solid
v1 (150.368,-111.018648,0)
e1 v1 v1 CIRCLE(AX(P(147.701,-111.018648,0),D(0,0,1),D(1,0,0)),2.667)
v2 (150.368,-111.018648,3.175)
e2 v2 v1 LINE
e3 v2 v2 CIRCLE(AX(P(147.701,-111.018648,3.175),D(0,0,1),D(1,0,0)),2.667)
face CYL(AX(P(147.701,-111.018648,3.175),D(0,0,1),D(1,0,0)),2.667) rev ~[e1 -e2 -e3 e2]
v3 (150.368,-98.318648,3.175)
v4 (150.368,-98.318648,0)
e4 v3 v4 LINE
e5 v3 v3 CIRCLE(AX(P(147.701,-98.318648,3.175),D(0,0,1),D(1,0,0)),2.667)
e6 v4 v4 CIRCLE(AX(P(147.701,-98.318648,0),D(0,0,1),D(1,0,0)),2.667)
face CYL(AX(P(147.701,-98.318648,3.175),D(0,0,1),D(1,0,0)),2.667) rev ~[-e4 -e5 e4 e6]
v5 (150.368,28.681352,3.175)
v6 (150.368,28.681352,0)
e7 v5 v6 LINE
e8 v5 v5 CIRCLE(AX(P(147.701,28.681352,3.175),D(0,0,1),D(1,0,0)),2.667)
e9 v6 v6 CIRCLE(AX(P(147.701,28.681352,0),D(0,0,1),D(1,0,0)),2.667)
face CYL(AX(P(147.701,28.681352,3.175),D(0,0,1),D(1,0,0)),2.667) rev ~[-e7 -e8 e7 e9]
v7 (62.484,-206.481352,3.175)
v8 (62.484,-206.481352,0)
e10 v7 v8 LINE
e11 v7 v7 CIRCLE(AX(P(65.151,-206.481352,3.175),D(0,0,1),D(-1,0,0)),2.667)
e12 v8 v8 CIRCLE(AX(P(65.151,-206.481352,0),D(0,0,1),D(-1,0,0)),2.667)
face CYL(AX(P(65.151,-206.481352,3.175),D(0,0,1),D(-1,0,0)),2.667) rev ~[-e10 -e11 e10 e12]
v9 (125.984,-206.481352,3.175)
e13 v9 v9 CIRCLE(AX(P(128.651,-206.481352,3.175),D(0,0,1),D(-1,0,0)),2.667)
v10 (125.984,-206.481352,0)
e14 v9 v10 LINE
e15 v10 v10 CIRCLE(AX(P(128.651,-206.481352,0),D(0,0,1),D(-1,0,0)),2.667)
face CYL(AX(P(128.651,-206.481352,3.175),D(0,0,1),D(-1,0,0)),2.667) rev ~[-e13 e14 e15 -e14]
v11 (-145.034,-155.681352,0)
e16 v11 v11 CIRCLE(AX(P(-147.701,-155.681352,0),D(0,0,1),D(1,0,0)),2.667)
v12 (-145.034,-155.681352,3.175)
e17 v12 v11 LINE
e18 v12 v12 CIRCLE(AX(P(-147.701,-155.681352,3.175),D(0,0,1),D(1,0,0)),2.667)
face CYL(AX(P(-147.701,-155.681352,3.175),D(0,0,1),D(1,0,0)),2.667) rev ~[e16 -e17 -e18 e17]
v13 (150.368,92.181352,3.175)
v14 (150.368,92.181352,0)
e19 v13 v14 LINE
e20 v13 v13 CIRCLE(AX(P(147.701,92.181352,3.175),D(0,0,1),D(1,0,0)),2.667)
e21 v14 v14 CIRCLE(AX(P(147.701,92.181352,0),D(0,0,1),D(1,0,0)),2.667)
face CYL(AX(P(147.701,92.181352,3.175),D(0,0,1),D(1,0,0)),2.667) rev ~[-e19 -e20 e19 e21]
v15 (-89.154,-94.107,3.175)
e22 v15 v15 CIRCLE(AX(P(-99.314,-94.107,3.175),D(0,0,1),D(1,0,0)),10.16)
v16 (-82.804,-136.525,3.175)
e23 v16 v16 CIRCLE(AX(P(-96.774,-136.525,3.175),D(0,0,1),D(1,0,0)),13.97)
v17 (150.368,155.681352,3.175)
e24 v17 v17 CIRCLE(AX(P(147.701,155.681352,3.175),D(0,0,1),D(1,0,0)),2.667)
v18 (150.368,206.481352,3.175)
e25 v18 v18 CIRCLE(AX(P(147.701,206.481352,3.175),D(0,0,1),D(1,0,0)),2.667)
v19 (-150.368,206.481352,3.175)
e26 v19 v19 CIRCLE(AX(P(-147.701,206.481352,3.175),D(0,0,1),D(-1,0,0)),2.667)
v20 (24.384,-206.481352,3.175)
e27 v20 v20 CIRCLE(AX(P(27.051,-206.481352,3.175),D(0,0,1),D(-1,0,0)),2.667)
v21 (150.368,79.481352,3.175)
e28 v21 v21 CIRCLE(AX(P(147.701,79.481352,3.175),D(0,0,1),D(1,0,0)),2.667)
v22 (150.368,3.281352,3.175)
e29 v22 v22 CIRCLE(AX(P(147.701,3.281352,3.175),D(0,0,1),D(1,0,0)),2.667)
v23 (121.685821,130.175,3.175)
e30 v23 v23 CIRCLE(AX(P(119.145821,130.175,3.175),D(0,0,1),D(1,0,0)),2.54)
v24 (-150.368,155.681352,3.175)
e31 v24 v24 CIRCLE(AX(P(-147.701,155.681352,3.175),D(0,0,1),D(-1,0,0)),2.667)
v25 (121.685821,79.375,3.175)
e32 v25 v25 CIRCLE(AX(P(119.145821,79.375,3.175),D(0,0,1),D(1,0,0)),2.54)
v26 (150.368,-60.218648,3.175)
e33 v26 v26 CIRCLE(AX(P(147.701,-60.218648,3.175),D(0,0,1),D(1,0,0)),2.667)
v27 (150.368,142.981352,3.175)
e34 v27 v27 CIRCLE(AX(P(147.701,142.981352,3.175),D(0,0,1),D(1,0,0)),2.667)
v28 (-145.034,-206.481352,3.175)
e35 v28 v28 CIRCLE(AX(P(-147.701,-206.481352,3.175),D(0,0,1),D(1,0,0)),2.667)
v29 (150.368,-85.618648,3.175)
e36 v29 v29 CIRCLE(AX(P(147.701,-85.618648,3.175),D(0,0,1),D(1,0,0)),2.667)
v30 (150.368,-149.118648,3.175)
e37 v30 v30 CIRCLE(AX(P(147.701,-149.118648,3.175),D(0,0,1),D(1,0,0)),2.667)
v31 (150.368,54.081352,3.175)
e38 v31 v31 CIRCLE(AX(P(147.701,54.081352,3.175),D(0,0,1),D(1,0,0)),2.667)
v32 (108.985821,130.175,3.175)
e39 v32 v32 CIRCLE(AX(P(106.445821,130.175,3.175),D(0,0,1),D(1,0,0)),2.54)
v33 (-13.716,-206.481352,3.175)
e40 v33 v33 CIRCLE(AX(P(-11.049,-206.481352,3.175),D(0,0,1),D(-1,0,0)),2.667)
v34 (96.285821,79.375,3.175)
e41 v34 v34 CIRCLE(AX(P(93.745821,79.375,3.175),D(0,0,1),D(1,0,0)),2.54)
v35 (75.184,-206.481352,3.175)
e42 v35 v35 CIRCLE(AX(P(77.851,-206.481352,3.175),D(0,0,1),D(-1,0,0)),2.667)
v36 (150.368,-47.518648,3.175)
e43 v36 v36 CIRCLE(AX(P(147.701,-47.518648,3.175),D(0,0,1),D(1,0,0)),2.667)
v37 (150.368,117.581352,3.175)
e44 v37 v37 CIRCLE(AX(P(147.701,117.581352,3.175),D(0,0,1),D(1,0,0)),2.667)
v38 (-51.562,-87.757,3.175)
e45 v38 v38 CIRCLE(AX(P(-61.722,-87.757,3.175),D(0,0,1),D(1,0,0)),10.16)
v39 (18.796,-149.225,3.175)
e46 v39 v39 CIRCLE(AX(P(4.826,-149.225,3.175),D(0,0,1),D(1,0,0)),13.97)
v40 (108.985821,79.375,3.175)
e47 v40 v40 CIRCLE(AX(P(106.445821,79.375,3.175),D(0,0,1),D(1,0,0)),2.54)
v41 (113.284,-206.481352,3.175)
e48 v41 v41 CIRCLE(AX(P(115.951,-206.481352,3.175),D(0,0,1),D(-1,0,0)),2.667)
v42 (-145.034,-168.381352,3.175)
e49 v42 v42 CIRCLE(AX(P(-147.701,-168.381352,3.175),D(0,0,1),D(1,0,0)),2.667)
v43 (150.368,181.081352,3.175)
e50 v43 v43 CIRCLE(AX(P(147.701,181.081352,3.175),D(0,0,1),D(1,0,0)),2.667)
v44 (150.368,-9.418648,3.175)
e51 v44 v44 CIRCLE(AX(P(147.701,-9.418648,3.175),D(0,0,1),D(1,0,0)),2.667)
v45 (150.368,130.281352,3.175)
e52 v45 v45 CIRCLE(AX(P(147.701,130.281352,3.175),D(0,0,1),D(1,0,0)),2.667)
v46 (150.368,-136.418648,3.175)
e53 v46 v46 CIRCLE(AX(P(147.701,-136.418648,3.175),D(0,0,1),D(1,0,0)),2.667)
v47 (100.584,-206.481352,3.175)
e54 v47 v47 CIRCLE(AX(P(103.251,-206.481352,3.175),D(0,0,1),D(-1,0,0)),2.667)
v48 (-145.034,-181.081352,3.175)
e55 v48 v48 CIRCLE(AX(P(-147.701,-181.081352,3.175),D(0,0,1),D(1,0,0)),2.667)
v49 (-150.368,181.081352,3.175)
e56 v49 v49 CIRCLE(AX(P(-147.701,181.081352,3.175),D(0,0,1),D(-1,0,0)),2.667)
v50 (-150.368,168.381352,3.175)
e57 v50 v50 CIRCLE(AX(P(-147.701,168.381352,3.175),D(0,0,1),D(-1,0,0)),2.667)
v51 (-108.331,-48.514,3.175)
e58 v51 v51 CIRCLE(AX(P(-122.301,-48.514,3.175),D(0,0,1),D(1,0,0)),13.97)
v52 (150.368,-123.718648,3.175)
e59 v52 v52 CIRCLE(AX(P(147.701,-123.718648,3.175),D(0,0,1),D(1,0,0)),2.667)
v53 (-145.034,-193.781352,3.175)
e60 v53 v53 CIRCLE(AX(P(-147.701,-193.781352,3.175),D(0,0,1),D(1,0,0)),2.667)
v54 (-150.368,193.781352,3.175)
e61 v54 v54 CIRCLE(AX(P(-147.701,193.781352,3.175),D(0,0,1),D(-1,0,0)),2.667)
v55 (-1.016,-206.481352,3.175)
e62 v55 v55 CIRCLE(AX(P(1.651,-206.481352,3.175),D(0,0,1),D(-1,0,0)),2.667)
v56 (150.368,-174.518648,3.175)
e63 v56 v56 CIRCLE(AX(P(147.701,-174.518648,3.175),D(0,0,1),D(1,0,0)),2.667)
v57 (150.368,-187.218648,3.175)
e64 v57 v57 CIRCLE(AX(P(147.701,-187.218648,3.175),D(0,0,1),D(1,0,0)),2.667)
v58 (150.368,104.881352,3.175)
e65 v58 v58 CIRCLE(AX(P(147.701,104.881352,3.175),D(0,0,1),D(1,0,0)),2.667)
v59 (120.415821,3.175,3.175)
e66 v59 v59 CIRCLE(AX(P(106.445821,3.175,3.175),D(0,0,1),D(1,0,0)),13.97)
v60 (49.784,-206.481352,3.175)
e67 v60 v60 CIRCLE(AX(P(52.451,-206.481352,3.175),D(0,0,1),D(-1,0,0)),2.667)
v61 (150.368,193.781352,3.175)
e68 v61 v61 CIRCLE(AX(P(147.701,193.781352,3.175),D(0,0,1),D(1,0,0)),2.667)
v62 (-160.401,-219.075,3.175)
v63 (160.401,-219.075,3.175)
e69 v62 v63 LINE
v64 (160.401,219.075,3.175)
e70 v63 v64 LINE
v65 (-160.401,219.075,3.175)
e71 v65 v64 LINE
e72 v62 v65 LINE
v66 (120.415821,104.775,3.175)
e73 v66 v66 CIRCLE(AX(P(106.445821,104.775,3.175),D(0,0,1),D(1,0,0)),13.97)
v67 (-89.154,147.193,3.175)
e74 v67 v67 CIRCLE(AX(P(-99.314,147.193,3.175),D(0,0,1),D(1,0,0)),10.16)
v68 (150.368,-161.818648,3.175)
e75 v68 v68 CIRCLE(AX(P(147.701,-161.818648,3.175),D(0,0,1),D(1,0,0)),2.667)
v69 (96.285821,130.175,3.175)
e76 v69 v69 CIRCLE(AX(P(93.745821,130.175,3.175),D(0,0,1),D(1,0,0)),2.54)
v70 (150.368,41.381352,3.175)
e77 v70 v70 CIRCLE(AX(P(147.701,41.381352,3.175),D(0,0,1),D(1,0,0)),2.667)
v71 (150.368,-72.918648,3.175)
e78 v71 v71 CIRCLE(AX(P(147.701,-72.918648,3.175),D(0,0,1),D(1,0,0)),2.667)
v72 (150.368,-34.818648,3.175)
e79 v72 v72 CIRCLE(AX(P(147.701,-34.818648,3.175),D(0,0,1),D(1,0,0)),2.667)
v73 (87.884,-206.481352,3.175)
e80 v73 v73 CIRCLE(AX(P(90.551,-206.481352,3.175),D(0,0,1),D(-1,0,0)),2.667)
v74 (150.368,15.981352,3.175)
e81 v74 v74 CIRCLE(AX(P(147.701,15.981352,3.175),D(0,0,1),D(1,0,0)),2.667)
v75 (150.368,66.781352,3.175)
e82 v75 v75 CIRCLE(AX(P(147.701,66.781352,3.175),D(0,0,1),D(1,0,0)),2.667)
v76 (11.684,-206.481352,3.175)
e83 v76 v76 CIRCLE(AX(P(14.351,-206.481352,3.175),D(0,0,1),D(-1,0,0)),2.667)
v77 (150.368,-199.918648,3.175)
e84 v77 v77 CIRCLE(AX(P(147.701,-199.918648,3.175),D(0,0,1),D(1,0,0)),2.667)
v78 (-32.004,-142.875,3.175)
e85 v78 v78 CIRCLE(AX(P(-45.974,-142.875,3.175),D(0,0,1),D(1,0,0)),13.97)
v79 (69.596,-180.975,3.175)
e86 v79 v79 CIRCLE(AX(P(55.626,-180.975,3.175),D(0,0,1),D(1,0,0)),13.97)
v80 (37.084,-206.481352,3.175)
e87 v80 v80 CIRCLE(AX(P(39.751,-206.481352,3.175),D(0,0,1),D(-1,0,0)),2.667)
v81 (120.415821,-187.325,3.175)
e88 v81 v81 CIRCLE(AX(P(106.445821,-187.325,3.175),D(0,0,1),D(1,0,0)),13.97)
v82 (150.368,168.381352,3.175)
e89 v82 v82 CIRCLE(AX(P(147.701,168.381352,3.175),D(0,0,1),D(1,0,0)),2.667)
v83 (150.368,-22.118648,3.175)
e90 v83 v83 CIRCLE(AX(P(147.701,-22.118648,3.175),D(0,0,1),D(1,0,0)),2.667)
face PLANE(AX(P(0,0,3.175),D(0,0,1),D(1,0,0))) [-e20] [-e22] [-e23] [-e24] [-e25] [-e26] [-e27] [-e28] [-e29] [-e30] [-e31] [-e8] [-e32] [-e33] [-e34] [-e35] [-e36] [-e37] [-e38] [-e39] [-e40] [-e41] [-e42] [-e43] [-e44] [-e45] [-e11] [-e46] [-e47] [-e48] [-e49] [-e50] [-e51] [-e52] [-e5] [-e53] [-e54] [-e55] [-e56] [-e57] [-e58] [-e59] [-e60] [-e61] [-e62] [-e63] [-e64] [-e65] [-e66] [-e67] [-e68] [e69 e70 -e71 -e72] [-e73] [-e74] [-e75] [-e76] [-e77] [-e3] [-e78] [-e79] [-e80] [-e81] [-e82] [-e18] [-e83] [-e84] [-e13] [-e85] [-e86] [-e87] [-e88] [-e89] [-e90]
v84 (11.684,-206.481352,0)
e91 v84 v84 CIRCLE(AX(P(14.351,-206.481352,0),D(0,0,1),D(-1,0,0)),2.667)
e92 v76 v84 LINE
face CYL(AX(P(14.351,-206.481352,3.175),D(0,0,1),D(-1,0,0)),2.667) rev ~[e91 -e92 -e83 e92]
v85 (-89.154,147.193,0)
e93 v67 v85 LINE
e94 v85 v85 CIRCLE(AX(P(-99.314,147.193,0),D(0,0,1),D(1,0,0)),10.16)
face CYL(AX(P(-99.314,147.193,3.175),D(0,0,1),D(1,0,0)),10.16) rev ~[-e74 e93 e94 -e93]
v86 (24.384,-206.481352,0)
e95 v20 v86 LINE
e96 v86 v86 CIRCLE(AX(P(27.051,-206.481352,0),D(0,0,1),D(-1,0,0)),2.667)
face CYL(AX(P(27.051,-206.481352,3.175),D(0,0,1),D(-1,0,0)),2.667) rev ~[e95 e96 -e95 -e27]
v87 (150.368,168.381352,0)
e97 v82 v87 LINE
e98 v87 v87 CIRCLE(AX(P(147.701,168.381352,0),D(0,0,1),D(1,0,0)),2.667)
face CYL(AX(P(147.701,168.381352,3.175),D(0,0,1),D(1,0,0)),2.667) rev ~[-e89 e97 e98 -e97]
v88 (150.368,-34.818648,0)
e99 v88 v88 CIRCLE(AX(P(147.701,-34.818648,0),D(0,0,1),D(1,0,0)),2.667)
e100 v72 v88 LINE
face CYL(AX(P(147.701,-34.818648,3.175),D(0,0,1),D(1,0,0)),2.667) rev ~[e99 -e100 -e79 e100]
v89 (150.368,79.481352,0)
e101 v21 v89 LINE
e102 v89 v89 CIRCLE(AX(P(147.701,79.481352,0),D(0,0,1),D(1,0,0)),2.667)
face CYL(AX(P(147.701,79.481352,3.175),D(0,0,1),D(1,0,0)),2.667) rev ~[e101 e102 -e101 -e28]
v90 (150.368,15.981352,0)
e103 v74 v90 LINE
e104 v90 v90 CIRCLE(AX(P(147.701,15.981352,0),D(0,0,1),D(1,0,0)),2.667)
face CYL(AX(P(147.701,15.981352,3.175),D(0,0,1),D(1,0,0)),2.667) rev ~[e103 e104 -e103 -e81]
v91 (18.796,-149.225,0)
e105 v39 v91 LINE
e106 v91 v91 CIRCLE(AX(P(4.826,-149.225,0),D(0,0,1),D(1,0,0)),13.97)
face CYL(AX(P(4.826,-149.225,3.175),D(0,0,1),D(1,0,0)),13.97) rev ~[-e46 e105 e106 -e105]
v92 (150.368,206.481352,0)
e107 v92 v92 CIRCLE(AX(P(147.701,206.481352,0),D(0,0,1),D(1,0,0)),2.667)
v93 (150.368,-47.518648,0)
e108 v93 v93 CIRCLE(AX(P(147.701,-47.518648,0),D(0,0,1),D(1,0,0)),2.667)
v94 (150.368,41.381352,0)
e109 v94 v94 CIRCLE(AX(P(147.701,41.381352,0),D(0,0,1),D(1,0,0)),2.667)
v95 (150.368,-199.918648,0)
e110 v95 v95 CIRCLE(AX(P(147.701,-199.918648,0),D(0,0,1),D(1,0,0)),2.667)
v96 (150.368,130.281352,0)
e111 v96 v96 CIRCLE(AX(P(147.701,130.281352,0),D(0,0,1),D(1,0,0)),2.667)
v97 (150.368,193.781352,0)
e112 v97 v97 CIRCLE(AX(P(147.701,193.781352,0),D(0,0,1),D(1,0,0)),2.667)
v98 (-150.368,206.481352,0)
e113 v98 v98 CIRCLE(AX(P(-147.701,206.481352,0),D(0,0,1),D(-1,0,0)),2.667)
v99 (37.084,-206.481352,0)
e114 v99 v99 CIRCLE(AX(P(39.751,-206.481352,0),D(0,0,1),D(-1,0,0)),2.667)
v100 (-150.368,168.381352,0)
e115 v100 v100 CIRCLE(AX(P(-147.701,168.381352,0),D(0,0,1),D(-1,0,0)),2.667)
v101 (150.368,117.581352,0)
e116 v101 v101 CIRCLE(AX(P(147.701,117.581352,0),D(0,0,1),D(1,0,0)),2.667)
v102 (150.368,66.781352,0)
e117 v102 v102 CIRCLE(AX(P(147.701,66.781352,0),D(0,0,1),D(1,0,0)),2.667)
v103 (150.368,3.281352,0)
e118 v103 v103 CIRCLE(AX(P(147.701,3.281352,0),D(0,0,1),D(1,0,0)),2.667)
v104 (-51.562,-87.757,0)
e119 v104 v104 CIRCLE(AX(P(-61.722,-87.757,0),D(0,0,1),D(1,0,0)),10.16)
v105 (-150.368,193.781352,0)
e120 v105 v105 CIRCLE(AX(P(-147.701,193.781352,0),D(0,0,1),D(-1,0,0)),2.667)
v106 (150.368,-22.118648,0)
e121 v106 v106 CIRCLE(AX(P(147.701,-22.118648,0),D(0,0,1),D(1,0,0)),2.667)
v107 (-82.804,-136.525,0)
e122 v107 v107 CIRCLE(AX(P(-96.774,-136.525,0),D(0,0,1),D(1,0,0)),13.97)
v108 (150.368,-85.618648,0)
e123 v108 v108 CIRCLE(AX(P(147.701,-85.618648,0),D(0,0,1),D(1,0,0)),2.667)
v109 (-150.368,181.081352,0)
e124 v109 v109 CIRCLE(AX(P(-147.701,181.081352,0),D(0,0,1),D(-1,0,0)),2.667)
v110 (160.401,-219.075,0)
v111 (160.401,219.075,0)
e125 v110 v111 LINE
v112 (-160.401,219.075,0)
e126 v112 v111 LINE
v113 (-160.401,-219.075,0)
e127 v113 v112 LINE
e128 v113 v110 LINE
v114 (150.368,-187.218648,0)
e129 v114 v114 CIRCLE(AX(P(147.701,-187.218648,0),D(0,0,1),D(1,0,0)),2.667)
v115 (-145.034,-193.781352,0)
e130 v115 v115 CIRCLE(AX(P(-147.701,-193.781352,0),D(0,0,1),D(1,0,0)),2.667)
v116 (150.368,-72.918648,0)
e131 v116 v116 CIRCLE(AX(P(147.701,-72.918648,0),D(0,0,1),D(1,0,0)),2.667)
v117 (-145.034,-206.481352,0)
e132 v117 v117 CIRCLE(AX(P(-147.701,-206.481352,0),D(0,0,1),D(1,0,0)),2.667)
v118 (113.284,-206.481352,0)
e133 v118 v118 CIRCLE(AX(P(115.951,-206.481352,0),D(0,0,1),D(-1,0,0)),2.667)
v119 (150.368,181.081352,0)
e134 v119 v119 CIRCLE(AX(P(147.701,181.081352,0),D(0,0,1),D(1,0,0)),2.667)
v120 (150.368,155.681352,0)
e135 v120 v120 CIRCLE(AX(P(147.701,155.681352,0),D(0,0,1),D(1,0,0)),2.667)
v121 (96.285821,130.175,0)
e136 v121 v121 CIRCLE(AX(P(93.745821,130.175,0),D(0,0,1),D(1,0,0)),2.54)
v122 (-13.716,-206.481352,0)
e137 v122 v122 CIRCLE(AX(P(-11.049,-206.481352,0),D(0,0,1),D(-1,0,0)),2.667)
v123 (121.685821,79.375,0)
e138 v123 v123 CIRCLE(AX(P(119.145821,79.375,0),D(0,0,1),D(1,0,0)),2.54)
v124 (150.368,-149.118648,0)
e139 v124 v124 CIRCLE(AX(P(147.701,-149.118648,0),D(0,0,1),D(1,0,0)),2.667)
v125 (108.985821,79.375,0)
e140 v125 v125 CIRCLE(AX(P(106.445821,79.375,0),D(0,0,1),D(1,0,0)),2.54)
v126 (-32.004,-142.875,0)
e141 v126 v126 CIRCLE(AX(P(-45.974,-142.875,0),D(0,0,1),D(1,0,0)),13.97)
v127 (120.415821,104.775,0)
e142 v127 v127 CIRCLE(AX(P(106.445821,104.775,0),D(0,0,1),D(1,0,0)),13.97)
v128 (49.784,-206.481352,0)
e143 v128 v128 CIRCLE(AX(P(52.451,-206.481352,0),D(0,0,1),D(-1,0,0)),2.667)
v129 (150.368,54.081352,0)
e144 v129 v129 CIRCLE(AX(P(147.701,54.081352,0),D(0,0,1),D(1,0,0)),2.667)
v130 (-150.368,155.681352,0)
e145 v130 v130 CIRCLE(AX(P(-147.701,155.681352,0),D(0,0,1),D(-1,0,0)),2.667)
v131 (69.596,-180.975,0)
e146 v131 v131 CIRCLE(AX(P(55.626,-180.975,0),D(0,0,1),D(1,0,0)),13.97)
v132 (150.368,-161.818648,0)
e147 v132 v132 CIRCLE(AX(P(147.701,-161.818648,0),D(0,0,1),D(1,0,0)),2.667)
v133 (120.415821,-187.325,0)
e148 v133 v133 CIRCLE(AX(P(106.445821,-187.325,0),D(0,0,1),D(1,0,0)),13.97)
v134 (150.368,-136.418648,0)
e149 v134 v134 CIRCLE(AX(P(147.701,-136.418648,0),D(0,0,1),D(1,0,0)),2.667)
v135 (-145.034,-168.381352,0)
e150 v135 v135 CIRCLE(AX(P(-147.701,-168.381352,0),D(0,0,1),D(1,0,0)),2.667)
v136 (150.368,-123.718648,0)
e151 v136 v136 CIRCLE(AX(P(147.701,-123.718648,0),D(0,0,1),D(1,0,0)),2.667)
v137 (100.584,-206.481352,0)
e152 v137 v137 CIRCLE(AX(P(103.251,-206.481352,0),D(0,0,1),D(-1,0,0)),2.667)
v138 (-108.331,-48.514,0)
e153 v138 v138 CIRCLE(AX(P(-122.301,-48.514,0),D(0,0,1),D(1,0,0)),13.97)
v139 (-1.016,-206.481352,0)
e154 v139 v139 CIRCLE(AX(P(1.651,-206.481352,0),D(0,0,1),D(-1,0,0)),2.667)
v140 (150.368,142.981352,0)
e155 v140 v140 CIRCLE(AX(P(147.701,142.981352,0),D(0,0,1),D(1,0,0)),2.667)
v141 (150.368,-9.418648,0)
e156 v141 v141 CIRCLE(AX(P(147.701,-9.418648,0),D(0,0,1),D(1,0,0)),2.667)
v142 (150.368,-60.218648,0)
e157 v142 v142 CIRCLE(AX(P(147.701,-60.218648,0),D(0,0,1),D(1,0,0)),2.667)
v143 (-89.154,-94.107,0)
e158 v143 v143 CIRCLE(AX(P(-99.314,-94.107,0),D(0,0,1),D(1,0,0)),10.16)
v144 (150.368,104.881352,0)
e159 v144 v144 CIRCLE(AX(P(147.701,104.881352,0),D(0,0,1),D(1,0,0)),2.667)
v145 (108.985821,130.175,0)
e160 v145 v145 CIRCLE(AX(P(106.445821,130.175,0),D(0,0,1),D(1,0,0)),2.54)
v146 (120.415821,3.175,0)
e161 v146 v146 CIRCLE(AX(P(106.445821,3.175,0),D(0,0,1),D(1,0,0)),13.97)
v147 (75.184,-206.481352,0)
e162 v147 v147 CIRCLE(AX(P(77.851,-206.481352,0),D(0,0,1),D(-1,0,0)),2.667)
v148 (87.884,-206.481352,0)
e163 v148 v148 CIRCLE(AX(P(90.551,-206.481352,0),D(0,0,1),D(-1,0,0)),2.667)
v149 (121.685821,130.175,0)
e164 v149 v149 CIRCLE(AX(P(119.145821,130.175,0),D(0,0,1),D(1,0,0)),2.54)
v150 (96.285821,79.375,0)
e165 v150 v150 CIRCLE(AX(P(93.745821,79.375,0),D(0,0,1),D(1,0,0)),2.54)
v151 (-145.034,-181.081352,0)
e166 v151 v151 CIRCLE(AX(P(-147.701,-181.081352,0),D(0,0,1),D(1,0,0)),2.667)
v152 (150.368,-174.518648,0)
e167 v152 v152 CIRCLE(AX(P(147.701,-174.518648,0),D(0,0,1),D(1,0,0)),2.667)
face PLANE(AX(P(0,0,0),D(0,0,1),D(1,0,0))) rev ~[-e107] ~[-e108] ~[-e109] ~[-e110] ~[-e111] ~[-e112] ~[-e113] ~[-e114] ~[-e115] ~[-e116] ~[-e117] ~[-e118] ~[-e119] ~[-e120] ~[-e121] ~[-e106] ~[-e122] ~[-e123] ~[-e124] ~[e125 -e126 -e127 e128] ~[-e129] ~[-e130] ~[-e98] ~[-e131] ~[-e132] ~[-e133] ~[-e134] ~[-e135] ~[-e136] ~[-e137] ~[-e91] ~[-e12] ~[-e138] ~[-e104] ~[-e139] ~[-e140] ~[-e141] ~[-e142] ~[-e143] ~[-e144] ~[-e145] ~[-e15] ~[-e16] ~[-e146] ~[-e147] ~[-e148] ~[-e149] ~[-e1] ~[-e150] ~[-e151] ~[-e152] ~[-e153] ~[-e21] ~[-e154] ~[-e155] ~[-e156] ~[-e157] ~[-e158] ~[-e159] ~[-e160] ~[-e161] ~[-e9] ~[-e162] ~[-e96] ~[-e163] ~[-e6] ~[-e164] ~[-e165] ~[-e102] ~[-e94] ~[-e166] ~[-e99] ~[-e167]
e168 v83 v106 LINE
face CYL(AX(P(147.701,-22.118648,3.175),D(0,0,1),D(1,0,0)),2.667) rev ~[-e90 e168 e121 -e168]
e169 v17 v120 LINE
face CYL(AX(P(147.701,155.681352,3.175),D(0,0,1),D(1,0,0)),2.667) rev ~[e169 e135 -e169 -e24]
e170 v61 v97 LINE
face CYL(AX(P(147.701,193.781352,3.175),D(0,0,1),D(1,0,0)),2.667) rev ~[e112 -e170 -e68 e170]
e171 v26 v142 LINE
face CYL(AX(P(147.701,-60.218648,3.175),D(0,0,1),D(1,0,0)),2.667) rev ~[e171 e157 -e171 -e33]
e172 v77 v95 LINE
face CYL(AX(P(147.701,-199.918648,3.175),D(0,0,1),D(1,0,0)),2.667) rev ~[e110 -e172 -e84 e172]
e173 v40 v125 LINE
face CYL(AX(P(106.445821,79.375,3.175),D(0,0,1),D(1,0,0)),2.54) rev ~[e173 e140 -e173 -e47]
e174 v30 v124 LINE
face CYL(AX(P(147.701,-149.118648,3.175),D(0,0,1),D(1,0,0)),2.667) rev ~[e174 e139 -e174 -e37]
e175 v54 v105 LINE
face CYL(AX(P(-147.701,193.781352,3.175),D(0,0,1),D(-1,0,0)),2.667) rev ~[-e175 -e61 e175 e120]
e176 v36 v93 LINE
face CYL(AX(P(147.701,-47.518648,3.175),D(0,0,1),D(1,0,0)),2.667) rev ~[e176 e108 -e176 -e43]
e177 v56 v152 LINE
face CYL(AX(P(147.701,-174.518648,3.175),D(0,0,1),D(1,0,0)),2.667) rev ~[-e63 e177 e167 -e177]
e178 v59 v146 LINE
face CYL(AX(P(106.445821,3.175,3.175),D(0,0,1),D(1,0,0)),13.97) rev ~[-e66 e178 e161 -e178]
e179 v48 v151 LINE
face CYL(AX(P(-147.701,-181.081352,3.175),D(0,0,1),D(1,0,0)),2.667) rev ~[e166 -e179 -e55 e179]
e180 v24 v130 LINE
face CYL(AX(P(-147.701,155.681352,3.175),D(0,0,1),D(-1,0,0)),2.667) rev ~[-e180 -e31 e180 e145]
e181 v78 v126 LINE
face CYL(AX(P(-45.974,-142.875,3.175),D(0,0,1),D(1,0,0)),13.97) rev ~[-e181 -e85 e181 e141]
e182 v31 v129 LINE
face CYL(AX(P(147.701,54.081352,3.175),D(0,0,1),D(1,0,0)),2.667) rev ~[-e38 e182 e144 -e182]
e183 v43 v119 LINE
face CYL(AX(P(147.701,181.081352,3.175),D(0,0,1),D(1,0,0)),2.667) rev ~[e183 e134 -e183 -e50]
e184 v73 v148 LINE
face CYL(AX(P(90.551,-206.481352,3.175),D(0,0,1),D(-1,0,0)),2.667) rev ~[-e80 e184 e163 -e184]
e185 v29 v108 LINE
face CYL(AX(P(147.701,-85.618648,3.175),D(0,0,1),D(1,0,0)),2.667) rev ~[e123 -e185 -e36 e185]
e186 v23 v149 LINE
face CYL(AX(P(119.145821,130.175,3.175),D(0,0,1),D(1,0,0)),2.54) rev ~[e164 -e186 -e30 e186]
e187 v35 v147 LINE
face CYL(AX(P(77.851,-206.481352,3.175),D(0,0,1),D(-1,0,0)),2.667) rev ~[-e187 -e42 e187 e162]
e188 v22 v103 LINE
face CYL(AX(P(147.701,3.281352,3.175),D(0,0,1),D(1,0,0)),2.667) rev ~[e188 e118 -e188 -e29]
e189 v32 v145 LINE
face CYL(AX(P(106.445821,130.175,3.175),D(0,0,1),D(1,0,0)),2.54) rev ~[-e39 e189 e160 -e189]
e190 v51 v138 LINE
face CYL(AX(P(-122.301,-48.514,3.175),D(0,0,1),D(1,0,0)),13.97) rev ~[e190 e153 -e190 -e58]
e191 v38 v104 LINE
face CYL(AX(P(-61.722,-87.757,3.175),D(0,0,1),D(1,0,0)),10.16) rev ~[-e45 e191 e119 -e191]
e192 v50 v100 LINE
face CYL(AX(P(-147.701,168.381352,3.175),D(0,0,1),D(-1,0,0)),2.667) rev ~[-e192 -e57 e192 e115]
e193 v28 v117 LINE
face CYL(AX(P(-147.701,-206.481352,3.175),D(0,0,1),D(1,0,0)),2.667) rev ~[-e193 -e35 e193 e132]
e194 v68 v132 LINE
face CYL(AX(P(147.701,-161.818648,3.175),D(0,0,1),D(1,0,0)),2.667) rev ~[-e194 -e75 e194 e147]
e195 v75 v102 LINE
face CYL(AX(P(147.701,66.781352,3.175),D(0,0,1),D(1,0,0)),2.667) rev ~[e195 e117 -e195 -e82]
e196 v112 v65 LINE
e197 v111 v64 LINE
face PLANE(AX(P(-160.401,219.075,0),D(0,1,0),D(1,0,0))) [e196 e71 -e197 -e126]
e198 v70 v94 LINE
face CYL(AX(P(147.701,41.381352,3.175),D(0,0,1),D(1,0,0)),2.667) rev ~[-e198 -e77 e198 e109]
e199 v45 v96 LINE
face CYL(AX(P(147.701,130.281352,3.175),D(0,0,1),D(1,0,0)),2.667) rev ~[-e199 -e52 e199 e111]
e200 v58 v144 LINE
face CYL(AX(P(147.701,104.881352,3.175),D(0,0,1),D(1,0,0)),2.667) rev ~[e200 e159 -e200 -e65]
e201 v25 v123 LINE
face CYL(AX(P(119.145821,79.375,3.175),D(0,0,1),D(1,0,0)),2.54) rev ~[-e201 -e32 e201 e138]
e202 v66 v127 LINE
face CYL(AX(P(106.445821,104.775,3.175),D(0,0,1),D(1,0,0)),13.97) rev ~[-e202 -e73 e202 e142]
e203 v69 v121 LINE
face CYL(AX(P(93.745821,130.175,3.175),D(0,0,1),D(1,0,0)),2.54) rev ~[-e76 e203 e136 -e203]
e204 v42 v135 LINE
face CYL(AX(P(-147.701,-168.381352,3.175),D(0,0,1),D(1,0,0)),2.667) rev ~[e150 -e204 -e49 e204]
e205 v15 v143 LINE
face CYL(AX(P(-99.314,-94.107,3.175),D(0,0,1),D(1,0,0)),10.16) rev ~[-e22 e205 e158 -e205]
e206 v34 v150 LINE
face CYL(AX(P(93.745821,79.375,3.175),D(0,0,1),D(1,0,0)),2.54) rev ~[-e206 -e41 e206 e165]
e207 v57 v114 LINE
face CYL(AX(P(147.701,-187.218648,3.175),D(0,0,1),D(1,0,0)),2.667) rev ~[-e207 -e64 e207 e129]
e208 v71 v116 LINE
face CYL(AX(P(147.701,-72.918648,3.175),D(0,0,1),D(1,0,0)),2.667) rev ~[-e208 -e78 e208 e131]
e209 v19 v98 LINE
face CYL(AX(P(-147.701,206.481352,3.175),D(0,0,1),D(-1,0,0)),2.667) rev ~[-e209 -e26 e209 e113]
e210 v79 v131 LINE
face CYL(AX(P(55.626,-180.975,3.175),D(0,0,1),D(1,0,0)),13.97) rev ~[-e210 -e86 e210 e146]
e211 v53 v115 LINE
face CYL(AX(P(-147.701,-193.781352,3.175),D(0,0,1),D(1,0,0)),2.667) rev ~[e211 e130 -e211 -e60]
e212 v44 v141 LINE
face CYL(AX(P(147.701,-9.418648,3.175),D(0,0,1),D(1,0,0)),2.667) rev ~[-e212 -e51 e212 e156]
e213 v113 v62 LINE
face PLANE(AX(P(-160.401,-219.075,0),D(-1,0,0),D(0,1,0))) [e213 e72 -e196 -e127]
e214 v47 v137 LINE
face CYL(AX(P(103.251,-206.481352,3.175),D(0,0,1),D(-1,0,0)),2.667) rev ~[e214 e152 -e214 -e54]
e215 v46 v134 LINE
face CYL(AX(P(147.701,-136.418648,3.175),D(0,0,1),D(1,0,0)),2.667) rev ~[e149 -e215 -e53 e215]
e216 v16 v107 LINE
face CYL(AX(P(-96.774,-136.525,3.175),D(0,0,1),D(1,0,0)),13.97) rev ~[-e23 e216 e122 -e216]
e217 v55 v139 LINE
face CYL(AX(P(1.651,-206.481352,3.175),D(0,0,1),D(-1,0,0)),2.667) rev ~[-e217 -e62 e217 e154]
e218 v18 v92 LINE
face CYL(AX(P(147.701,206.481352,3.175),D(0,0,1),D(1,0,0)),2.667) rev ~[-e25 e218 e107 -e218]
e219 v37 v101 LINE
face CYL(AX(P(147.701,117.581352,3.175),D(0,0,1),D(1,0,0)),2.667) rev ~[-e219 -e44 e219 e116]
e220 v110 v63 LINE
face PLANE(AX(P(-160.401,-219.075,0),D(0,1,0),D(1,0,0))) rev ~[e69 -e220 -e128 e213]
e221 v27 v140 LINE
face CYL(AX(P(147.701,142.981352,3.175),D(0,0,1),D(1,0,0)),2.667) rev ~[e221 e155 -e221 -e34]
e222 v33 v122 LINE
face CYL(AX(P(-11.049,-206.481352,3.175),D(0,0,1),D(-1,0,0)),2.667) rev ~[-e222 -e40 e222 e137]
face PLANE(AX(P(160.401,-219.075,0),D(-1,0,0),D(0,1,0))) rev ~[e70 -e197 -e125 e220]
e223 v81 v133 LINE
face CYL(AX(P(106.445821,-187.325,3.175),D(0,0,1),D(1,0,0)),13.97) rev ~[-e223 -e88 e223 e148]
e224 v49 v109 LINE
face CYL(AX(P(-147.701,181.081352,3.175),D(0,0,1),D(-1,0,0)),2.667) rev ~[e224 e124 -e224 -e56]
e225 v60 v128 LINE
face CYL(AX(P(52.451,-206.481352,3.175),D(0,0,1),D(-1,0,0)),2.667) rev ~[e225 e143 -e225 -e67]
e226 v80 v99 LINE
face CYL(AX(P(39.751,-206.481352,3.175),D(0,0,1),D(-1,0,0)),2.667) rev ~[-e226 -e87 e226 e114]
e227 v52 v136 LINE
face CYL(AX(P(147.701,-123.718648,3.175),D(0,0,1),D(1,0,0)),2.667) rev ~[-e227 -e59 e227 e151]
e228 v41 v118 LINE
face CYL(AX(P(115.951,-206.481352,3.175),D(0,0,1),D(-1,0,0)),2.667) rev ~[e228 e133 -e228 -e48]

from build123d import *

# Parameters (mm, degrees)
SKETCH1_W           = 320.802
SKETCH1_H           = 438.15
BOSS_EXTRUDE1_DEPTH = 3.175
SKETCH2_R           = 13.97
SKETCH2_R_2         = 2.54
CUT_EXTRUDE1_DEPTH  = 3.175
SKETCH3_R           = 10.16
CUT_EXTRUDE3_DEPTH  = 3.175
SKETCH4_R           = 2.667
CUT_EXTRUDE4_DEPTH  = 3.175
SKETCH5_R           = 13.97
CUT_EXTRUDE5_DEPTH  = 3.175


with BuildPart() as part:
    # Sketch1 → Boss-Extrude1 (new body)
    with BuildSketch(Plane.XY):
        Rectangle(SKETCH1_W, SKETCH1_H)
    extrude(amount=BOSS_EXTRUDE1_DEPTH)

    # Sketch2 → Cut-Extrude1 (cut)
    with BuildSketch(Plane.XY.offset(3.175)):
        with Locations((106.445821197, -187.325)):
            Circle(SKETCH2_R)
        with Locations((55.626, -180.975)):
            Circle(SKETCH2_R)
        with Locations((4.826, -149.225)):
            Circle(SKETCH2_R)
        with Locations((-45.974, -142.875)):
            Circle(SKETCH2_R)
        with Locations((-96.774, -136.525)):
            Circle(SKETCH2_R)
        with Locations((106.445821197, 3.175)):
            Circle(SKETCH2_R)
        with Locations((106.445821197, 104.775)):
            Circle(SKETCH2_R)
        with Locations((93.745821197, 130.175)):
            Circle(SKETCH2_R_2)
        with Locations((106.445821197, 130.175)):
            Circle(SKETCH2_R_2)
        with Locations((119.145821197, 130.175)):
            Circle(SKETCH2_R_2)
        with Locations((93.745821197, 79.375)):
            Circle(SKETCH2_R_2)
        with Locations((106.445821197, 79.375)):
            Circle(SKETCH2_R_2)
        with Locations((119.145821197, 79.375)):
            Circle(SKETCH2_R_2)
    extrude(amount=-CUT_EXTRUDE1_DEPTH, mode=Mode.SUBTRACT)

    # Sketch3 → Cut-Extrude3 (cut)
    with BuildSketch(Plane.XY.offset(3.175)):
        with Locations((-99.314, 147.193)):
            Circle(SKETCH3_R)
        with Locations((-61.722, -87.757)):
            Circle(SKETCH3_R)
        with Locations((-99.314, -94.107)):
            Circle(SKETCH3_R)
    extrude(amount=-CUT_EXTRUDE3_DEPTH, mode=Mode.SUBTRACT)

    # Sketch4 → Cut-Extrude4 (cut)
    with BuildSketch(Plane.XY.offset(3.175)):
        with Locations((-147.701, -206.481352377)):
            Circle(SKETCH4_R)
        with Locations((-147.701, -193.781352377)):
            Circle(SKETCH4_R)
        with Locations((-147.701, -181.081352377)):
            Circle(SKETCH4_R)
        with Locations((-147.701, -168.381352377)):
            Circle(SKETCH4_R)
        with Locations((-147.701, -155.681352377)):
            Circle(SKETCH4_R)
        with Locations(Location((-147.701, 206.481352377, 0), (0, 0, 180))):
            Circle(SKETCH4_R)
        with Locations(Location((-147.701, 193.781352377, 0), (0, 0, 180))):
            Circle(SKETCH4_R)
        with Locations(Location((-147.701, 181.081352377, 0), (0, 0, 180))):
            Circle(SKETCH4_R)
        with Locations(Location((-147.701, 168.381352377, 0), (0, 0, 180))):
            Circle(SKETCH4_R)
        with Locations(Location((-147.701, 155.681352377, 0), (0, 0, 180))):
            Circle(SKETCH4_R)
        with Locations((147.701, 155.681352377)):
            Circle(SKETCH4_R)
        with Locations((147.701, 168.381352377)):
            Circle(SKETCH4_R)
        with Locations((147.701, 181.081352377)):
            Circle(SKETCH4_R)
        with Locations((147.701, 193.781352377)):
            Circle(SKETCH4_R)
        with Locations((147.701, 206.481352377)):
            Circle(SKETCH4_R)
        with Locations((147.701, 142.981352377)):
            Circle(SKETCH4_R)
        with Locations((147.701, 130.281352377)):
            Circle(SKETCH4_R)
        with Locations((147.701, 117.581352377)):
            Circle(SKETCH4_R)
        with Locations((147.701, 104.881352377)):
            Circle(SKETCH4_R)
        with Locations((147.701, 92.181352377)):
            Circle(SKETCH4_R)
        with Locations((147.701, 79.481352377)):
            Circle(SKETCH4_R)
        with Locations((147.701, 66.781352377)):
            Circle(SKETCH4_R)
        with Locations((147.701, 54.081352377)):
            Circle(SKETCH4_R)
        with Locations((147.701, 41.381352377)):
            Circle(SKETCH4_R)
        with Locations((147.701, 28.681352377)):
            Circle(SKETCH4_R)
        with Locations((147.701, 15.981352377)):
            Circle(SKETCH4_R)
        with Locations((147.701, 3.281352377)):
            Circle(SKETCH4_R)
        with Locations((147.701, -9.418647623)):
            Circle(SKETCH4_R)
        with Locations((147.701, -22.118647623)):
            Circle(SKETCH4_R)
        with Locations((147.701, -34.818647623)):
            Circle(SKETCH4_R)
        with Locations((147.701, -47.518647623)):
            Circle(SKETCH4_R)
        with Locations((147.701, -60.218647623)):
            Circle(SKETCH4_R)
        with Locations((147.701, -72.918647623)):
            Circle(SKETCH4_R)
        with Locations((147.701, -85.618647623)):
            Circle(SKETCH4_R)
        with Locations((147.701, -98.318647623)):
            Circle(SKETCH4_R)
        with Locations((147.701, -111.018647623)):
            Circle(SKETCH4_R)
        with Locations((147.701, -123.718647623)):
            Circle(SKETCH4_R)
        with Locations((147.701, -136.418647623)):
            Circle(SKETCH4_R)
        with Locations((147.701, -149.118647623)):
            Circle(SKETCH4_R)
        with Locations((147.701, -161.818647623)):
            Circle(SKETCH4_R)
        with Locations((147.701, -174.518647623)):
            Circle(SKETCH4_R)
        with Locations((147.701, -187.218647623)):
            Circle(SKETCH4_R)
        with Locations((147.701, -199.918647623)):
            Circle(SKETCH4_R)
        with Locations(Location((103.251, -206.481352377, 0), (0, 0, 180))):
            Circle(SKETCH4_R)
        with Locations(Location((115.951, -206.481352377, 0), (0, 0, 180))):
            Circle(SKETCH4_R)
        with Locations(Location((128.651, -206.481352377, 0), (0, 0, 180))):
            Circle(SKETCH4_R)
        with Locations(Location((90.551, -206.481352377, 0), (0, 0, 180))):
            Circle(SKETCH4_R)
        with Locations(Location((65.151, -206.481352377, 0), (0, 0, 180))):
            Circle(SKETCH4_R)
        with Locations(Location((77.851, -206.481352377, 0), (0, 0, 180))):
            Circle(SKETCH4_R)
        with Locations(Location((52.451, -206.481352377, 0), (0, 0, 180))):
            Circle(SKETCH4_R)
        with Locations(Location((39.751, -206.481352377, 0), (0, 0, 180))):
            Circle(SKETCH4_R)
        with Locations(Location((27.051, -206.481352377, 0), (0, 0, 180))):
            Circle(SKETCH4_R)
        with Locations(Location((14.351, -206.481352377, 0), (0, 0, 180))):
            Circle(SKETCH4_R)
        with Locations(Location((1.651, -206.481352377, 0), (0, 0, 180))):
            Circle(SKETCH4_R)
        with Locations(Location((-11.049, -206.481352377, 0), (0, 0, 180))):
            Circle(SKETCH4_R)
    extrude(amount=-CUT_EXTRUDE4_DEPTH, mode=Mode.SUBTRACT)

    # Sketch5 → Cut-Extrude5 (cut)
    with BuildSketch(Plane.XY.offset(3.175)):
        with Locations((-122.301, -48.514)):
            Circle(SKETCH5_R)
    extrude(amount=-CUT_EXTRUDE5_DEPTH, mode=Mode.SUBTRACT)


solid = part.part
